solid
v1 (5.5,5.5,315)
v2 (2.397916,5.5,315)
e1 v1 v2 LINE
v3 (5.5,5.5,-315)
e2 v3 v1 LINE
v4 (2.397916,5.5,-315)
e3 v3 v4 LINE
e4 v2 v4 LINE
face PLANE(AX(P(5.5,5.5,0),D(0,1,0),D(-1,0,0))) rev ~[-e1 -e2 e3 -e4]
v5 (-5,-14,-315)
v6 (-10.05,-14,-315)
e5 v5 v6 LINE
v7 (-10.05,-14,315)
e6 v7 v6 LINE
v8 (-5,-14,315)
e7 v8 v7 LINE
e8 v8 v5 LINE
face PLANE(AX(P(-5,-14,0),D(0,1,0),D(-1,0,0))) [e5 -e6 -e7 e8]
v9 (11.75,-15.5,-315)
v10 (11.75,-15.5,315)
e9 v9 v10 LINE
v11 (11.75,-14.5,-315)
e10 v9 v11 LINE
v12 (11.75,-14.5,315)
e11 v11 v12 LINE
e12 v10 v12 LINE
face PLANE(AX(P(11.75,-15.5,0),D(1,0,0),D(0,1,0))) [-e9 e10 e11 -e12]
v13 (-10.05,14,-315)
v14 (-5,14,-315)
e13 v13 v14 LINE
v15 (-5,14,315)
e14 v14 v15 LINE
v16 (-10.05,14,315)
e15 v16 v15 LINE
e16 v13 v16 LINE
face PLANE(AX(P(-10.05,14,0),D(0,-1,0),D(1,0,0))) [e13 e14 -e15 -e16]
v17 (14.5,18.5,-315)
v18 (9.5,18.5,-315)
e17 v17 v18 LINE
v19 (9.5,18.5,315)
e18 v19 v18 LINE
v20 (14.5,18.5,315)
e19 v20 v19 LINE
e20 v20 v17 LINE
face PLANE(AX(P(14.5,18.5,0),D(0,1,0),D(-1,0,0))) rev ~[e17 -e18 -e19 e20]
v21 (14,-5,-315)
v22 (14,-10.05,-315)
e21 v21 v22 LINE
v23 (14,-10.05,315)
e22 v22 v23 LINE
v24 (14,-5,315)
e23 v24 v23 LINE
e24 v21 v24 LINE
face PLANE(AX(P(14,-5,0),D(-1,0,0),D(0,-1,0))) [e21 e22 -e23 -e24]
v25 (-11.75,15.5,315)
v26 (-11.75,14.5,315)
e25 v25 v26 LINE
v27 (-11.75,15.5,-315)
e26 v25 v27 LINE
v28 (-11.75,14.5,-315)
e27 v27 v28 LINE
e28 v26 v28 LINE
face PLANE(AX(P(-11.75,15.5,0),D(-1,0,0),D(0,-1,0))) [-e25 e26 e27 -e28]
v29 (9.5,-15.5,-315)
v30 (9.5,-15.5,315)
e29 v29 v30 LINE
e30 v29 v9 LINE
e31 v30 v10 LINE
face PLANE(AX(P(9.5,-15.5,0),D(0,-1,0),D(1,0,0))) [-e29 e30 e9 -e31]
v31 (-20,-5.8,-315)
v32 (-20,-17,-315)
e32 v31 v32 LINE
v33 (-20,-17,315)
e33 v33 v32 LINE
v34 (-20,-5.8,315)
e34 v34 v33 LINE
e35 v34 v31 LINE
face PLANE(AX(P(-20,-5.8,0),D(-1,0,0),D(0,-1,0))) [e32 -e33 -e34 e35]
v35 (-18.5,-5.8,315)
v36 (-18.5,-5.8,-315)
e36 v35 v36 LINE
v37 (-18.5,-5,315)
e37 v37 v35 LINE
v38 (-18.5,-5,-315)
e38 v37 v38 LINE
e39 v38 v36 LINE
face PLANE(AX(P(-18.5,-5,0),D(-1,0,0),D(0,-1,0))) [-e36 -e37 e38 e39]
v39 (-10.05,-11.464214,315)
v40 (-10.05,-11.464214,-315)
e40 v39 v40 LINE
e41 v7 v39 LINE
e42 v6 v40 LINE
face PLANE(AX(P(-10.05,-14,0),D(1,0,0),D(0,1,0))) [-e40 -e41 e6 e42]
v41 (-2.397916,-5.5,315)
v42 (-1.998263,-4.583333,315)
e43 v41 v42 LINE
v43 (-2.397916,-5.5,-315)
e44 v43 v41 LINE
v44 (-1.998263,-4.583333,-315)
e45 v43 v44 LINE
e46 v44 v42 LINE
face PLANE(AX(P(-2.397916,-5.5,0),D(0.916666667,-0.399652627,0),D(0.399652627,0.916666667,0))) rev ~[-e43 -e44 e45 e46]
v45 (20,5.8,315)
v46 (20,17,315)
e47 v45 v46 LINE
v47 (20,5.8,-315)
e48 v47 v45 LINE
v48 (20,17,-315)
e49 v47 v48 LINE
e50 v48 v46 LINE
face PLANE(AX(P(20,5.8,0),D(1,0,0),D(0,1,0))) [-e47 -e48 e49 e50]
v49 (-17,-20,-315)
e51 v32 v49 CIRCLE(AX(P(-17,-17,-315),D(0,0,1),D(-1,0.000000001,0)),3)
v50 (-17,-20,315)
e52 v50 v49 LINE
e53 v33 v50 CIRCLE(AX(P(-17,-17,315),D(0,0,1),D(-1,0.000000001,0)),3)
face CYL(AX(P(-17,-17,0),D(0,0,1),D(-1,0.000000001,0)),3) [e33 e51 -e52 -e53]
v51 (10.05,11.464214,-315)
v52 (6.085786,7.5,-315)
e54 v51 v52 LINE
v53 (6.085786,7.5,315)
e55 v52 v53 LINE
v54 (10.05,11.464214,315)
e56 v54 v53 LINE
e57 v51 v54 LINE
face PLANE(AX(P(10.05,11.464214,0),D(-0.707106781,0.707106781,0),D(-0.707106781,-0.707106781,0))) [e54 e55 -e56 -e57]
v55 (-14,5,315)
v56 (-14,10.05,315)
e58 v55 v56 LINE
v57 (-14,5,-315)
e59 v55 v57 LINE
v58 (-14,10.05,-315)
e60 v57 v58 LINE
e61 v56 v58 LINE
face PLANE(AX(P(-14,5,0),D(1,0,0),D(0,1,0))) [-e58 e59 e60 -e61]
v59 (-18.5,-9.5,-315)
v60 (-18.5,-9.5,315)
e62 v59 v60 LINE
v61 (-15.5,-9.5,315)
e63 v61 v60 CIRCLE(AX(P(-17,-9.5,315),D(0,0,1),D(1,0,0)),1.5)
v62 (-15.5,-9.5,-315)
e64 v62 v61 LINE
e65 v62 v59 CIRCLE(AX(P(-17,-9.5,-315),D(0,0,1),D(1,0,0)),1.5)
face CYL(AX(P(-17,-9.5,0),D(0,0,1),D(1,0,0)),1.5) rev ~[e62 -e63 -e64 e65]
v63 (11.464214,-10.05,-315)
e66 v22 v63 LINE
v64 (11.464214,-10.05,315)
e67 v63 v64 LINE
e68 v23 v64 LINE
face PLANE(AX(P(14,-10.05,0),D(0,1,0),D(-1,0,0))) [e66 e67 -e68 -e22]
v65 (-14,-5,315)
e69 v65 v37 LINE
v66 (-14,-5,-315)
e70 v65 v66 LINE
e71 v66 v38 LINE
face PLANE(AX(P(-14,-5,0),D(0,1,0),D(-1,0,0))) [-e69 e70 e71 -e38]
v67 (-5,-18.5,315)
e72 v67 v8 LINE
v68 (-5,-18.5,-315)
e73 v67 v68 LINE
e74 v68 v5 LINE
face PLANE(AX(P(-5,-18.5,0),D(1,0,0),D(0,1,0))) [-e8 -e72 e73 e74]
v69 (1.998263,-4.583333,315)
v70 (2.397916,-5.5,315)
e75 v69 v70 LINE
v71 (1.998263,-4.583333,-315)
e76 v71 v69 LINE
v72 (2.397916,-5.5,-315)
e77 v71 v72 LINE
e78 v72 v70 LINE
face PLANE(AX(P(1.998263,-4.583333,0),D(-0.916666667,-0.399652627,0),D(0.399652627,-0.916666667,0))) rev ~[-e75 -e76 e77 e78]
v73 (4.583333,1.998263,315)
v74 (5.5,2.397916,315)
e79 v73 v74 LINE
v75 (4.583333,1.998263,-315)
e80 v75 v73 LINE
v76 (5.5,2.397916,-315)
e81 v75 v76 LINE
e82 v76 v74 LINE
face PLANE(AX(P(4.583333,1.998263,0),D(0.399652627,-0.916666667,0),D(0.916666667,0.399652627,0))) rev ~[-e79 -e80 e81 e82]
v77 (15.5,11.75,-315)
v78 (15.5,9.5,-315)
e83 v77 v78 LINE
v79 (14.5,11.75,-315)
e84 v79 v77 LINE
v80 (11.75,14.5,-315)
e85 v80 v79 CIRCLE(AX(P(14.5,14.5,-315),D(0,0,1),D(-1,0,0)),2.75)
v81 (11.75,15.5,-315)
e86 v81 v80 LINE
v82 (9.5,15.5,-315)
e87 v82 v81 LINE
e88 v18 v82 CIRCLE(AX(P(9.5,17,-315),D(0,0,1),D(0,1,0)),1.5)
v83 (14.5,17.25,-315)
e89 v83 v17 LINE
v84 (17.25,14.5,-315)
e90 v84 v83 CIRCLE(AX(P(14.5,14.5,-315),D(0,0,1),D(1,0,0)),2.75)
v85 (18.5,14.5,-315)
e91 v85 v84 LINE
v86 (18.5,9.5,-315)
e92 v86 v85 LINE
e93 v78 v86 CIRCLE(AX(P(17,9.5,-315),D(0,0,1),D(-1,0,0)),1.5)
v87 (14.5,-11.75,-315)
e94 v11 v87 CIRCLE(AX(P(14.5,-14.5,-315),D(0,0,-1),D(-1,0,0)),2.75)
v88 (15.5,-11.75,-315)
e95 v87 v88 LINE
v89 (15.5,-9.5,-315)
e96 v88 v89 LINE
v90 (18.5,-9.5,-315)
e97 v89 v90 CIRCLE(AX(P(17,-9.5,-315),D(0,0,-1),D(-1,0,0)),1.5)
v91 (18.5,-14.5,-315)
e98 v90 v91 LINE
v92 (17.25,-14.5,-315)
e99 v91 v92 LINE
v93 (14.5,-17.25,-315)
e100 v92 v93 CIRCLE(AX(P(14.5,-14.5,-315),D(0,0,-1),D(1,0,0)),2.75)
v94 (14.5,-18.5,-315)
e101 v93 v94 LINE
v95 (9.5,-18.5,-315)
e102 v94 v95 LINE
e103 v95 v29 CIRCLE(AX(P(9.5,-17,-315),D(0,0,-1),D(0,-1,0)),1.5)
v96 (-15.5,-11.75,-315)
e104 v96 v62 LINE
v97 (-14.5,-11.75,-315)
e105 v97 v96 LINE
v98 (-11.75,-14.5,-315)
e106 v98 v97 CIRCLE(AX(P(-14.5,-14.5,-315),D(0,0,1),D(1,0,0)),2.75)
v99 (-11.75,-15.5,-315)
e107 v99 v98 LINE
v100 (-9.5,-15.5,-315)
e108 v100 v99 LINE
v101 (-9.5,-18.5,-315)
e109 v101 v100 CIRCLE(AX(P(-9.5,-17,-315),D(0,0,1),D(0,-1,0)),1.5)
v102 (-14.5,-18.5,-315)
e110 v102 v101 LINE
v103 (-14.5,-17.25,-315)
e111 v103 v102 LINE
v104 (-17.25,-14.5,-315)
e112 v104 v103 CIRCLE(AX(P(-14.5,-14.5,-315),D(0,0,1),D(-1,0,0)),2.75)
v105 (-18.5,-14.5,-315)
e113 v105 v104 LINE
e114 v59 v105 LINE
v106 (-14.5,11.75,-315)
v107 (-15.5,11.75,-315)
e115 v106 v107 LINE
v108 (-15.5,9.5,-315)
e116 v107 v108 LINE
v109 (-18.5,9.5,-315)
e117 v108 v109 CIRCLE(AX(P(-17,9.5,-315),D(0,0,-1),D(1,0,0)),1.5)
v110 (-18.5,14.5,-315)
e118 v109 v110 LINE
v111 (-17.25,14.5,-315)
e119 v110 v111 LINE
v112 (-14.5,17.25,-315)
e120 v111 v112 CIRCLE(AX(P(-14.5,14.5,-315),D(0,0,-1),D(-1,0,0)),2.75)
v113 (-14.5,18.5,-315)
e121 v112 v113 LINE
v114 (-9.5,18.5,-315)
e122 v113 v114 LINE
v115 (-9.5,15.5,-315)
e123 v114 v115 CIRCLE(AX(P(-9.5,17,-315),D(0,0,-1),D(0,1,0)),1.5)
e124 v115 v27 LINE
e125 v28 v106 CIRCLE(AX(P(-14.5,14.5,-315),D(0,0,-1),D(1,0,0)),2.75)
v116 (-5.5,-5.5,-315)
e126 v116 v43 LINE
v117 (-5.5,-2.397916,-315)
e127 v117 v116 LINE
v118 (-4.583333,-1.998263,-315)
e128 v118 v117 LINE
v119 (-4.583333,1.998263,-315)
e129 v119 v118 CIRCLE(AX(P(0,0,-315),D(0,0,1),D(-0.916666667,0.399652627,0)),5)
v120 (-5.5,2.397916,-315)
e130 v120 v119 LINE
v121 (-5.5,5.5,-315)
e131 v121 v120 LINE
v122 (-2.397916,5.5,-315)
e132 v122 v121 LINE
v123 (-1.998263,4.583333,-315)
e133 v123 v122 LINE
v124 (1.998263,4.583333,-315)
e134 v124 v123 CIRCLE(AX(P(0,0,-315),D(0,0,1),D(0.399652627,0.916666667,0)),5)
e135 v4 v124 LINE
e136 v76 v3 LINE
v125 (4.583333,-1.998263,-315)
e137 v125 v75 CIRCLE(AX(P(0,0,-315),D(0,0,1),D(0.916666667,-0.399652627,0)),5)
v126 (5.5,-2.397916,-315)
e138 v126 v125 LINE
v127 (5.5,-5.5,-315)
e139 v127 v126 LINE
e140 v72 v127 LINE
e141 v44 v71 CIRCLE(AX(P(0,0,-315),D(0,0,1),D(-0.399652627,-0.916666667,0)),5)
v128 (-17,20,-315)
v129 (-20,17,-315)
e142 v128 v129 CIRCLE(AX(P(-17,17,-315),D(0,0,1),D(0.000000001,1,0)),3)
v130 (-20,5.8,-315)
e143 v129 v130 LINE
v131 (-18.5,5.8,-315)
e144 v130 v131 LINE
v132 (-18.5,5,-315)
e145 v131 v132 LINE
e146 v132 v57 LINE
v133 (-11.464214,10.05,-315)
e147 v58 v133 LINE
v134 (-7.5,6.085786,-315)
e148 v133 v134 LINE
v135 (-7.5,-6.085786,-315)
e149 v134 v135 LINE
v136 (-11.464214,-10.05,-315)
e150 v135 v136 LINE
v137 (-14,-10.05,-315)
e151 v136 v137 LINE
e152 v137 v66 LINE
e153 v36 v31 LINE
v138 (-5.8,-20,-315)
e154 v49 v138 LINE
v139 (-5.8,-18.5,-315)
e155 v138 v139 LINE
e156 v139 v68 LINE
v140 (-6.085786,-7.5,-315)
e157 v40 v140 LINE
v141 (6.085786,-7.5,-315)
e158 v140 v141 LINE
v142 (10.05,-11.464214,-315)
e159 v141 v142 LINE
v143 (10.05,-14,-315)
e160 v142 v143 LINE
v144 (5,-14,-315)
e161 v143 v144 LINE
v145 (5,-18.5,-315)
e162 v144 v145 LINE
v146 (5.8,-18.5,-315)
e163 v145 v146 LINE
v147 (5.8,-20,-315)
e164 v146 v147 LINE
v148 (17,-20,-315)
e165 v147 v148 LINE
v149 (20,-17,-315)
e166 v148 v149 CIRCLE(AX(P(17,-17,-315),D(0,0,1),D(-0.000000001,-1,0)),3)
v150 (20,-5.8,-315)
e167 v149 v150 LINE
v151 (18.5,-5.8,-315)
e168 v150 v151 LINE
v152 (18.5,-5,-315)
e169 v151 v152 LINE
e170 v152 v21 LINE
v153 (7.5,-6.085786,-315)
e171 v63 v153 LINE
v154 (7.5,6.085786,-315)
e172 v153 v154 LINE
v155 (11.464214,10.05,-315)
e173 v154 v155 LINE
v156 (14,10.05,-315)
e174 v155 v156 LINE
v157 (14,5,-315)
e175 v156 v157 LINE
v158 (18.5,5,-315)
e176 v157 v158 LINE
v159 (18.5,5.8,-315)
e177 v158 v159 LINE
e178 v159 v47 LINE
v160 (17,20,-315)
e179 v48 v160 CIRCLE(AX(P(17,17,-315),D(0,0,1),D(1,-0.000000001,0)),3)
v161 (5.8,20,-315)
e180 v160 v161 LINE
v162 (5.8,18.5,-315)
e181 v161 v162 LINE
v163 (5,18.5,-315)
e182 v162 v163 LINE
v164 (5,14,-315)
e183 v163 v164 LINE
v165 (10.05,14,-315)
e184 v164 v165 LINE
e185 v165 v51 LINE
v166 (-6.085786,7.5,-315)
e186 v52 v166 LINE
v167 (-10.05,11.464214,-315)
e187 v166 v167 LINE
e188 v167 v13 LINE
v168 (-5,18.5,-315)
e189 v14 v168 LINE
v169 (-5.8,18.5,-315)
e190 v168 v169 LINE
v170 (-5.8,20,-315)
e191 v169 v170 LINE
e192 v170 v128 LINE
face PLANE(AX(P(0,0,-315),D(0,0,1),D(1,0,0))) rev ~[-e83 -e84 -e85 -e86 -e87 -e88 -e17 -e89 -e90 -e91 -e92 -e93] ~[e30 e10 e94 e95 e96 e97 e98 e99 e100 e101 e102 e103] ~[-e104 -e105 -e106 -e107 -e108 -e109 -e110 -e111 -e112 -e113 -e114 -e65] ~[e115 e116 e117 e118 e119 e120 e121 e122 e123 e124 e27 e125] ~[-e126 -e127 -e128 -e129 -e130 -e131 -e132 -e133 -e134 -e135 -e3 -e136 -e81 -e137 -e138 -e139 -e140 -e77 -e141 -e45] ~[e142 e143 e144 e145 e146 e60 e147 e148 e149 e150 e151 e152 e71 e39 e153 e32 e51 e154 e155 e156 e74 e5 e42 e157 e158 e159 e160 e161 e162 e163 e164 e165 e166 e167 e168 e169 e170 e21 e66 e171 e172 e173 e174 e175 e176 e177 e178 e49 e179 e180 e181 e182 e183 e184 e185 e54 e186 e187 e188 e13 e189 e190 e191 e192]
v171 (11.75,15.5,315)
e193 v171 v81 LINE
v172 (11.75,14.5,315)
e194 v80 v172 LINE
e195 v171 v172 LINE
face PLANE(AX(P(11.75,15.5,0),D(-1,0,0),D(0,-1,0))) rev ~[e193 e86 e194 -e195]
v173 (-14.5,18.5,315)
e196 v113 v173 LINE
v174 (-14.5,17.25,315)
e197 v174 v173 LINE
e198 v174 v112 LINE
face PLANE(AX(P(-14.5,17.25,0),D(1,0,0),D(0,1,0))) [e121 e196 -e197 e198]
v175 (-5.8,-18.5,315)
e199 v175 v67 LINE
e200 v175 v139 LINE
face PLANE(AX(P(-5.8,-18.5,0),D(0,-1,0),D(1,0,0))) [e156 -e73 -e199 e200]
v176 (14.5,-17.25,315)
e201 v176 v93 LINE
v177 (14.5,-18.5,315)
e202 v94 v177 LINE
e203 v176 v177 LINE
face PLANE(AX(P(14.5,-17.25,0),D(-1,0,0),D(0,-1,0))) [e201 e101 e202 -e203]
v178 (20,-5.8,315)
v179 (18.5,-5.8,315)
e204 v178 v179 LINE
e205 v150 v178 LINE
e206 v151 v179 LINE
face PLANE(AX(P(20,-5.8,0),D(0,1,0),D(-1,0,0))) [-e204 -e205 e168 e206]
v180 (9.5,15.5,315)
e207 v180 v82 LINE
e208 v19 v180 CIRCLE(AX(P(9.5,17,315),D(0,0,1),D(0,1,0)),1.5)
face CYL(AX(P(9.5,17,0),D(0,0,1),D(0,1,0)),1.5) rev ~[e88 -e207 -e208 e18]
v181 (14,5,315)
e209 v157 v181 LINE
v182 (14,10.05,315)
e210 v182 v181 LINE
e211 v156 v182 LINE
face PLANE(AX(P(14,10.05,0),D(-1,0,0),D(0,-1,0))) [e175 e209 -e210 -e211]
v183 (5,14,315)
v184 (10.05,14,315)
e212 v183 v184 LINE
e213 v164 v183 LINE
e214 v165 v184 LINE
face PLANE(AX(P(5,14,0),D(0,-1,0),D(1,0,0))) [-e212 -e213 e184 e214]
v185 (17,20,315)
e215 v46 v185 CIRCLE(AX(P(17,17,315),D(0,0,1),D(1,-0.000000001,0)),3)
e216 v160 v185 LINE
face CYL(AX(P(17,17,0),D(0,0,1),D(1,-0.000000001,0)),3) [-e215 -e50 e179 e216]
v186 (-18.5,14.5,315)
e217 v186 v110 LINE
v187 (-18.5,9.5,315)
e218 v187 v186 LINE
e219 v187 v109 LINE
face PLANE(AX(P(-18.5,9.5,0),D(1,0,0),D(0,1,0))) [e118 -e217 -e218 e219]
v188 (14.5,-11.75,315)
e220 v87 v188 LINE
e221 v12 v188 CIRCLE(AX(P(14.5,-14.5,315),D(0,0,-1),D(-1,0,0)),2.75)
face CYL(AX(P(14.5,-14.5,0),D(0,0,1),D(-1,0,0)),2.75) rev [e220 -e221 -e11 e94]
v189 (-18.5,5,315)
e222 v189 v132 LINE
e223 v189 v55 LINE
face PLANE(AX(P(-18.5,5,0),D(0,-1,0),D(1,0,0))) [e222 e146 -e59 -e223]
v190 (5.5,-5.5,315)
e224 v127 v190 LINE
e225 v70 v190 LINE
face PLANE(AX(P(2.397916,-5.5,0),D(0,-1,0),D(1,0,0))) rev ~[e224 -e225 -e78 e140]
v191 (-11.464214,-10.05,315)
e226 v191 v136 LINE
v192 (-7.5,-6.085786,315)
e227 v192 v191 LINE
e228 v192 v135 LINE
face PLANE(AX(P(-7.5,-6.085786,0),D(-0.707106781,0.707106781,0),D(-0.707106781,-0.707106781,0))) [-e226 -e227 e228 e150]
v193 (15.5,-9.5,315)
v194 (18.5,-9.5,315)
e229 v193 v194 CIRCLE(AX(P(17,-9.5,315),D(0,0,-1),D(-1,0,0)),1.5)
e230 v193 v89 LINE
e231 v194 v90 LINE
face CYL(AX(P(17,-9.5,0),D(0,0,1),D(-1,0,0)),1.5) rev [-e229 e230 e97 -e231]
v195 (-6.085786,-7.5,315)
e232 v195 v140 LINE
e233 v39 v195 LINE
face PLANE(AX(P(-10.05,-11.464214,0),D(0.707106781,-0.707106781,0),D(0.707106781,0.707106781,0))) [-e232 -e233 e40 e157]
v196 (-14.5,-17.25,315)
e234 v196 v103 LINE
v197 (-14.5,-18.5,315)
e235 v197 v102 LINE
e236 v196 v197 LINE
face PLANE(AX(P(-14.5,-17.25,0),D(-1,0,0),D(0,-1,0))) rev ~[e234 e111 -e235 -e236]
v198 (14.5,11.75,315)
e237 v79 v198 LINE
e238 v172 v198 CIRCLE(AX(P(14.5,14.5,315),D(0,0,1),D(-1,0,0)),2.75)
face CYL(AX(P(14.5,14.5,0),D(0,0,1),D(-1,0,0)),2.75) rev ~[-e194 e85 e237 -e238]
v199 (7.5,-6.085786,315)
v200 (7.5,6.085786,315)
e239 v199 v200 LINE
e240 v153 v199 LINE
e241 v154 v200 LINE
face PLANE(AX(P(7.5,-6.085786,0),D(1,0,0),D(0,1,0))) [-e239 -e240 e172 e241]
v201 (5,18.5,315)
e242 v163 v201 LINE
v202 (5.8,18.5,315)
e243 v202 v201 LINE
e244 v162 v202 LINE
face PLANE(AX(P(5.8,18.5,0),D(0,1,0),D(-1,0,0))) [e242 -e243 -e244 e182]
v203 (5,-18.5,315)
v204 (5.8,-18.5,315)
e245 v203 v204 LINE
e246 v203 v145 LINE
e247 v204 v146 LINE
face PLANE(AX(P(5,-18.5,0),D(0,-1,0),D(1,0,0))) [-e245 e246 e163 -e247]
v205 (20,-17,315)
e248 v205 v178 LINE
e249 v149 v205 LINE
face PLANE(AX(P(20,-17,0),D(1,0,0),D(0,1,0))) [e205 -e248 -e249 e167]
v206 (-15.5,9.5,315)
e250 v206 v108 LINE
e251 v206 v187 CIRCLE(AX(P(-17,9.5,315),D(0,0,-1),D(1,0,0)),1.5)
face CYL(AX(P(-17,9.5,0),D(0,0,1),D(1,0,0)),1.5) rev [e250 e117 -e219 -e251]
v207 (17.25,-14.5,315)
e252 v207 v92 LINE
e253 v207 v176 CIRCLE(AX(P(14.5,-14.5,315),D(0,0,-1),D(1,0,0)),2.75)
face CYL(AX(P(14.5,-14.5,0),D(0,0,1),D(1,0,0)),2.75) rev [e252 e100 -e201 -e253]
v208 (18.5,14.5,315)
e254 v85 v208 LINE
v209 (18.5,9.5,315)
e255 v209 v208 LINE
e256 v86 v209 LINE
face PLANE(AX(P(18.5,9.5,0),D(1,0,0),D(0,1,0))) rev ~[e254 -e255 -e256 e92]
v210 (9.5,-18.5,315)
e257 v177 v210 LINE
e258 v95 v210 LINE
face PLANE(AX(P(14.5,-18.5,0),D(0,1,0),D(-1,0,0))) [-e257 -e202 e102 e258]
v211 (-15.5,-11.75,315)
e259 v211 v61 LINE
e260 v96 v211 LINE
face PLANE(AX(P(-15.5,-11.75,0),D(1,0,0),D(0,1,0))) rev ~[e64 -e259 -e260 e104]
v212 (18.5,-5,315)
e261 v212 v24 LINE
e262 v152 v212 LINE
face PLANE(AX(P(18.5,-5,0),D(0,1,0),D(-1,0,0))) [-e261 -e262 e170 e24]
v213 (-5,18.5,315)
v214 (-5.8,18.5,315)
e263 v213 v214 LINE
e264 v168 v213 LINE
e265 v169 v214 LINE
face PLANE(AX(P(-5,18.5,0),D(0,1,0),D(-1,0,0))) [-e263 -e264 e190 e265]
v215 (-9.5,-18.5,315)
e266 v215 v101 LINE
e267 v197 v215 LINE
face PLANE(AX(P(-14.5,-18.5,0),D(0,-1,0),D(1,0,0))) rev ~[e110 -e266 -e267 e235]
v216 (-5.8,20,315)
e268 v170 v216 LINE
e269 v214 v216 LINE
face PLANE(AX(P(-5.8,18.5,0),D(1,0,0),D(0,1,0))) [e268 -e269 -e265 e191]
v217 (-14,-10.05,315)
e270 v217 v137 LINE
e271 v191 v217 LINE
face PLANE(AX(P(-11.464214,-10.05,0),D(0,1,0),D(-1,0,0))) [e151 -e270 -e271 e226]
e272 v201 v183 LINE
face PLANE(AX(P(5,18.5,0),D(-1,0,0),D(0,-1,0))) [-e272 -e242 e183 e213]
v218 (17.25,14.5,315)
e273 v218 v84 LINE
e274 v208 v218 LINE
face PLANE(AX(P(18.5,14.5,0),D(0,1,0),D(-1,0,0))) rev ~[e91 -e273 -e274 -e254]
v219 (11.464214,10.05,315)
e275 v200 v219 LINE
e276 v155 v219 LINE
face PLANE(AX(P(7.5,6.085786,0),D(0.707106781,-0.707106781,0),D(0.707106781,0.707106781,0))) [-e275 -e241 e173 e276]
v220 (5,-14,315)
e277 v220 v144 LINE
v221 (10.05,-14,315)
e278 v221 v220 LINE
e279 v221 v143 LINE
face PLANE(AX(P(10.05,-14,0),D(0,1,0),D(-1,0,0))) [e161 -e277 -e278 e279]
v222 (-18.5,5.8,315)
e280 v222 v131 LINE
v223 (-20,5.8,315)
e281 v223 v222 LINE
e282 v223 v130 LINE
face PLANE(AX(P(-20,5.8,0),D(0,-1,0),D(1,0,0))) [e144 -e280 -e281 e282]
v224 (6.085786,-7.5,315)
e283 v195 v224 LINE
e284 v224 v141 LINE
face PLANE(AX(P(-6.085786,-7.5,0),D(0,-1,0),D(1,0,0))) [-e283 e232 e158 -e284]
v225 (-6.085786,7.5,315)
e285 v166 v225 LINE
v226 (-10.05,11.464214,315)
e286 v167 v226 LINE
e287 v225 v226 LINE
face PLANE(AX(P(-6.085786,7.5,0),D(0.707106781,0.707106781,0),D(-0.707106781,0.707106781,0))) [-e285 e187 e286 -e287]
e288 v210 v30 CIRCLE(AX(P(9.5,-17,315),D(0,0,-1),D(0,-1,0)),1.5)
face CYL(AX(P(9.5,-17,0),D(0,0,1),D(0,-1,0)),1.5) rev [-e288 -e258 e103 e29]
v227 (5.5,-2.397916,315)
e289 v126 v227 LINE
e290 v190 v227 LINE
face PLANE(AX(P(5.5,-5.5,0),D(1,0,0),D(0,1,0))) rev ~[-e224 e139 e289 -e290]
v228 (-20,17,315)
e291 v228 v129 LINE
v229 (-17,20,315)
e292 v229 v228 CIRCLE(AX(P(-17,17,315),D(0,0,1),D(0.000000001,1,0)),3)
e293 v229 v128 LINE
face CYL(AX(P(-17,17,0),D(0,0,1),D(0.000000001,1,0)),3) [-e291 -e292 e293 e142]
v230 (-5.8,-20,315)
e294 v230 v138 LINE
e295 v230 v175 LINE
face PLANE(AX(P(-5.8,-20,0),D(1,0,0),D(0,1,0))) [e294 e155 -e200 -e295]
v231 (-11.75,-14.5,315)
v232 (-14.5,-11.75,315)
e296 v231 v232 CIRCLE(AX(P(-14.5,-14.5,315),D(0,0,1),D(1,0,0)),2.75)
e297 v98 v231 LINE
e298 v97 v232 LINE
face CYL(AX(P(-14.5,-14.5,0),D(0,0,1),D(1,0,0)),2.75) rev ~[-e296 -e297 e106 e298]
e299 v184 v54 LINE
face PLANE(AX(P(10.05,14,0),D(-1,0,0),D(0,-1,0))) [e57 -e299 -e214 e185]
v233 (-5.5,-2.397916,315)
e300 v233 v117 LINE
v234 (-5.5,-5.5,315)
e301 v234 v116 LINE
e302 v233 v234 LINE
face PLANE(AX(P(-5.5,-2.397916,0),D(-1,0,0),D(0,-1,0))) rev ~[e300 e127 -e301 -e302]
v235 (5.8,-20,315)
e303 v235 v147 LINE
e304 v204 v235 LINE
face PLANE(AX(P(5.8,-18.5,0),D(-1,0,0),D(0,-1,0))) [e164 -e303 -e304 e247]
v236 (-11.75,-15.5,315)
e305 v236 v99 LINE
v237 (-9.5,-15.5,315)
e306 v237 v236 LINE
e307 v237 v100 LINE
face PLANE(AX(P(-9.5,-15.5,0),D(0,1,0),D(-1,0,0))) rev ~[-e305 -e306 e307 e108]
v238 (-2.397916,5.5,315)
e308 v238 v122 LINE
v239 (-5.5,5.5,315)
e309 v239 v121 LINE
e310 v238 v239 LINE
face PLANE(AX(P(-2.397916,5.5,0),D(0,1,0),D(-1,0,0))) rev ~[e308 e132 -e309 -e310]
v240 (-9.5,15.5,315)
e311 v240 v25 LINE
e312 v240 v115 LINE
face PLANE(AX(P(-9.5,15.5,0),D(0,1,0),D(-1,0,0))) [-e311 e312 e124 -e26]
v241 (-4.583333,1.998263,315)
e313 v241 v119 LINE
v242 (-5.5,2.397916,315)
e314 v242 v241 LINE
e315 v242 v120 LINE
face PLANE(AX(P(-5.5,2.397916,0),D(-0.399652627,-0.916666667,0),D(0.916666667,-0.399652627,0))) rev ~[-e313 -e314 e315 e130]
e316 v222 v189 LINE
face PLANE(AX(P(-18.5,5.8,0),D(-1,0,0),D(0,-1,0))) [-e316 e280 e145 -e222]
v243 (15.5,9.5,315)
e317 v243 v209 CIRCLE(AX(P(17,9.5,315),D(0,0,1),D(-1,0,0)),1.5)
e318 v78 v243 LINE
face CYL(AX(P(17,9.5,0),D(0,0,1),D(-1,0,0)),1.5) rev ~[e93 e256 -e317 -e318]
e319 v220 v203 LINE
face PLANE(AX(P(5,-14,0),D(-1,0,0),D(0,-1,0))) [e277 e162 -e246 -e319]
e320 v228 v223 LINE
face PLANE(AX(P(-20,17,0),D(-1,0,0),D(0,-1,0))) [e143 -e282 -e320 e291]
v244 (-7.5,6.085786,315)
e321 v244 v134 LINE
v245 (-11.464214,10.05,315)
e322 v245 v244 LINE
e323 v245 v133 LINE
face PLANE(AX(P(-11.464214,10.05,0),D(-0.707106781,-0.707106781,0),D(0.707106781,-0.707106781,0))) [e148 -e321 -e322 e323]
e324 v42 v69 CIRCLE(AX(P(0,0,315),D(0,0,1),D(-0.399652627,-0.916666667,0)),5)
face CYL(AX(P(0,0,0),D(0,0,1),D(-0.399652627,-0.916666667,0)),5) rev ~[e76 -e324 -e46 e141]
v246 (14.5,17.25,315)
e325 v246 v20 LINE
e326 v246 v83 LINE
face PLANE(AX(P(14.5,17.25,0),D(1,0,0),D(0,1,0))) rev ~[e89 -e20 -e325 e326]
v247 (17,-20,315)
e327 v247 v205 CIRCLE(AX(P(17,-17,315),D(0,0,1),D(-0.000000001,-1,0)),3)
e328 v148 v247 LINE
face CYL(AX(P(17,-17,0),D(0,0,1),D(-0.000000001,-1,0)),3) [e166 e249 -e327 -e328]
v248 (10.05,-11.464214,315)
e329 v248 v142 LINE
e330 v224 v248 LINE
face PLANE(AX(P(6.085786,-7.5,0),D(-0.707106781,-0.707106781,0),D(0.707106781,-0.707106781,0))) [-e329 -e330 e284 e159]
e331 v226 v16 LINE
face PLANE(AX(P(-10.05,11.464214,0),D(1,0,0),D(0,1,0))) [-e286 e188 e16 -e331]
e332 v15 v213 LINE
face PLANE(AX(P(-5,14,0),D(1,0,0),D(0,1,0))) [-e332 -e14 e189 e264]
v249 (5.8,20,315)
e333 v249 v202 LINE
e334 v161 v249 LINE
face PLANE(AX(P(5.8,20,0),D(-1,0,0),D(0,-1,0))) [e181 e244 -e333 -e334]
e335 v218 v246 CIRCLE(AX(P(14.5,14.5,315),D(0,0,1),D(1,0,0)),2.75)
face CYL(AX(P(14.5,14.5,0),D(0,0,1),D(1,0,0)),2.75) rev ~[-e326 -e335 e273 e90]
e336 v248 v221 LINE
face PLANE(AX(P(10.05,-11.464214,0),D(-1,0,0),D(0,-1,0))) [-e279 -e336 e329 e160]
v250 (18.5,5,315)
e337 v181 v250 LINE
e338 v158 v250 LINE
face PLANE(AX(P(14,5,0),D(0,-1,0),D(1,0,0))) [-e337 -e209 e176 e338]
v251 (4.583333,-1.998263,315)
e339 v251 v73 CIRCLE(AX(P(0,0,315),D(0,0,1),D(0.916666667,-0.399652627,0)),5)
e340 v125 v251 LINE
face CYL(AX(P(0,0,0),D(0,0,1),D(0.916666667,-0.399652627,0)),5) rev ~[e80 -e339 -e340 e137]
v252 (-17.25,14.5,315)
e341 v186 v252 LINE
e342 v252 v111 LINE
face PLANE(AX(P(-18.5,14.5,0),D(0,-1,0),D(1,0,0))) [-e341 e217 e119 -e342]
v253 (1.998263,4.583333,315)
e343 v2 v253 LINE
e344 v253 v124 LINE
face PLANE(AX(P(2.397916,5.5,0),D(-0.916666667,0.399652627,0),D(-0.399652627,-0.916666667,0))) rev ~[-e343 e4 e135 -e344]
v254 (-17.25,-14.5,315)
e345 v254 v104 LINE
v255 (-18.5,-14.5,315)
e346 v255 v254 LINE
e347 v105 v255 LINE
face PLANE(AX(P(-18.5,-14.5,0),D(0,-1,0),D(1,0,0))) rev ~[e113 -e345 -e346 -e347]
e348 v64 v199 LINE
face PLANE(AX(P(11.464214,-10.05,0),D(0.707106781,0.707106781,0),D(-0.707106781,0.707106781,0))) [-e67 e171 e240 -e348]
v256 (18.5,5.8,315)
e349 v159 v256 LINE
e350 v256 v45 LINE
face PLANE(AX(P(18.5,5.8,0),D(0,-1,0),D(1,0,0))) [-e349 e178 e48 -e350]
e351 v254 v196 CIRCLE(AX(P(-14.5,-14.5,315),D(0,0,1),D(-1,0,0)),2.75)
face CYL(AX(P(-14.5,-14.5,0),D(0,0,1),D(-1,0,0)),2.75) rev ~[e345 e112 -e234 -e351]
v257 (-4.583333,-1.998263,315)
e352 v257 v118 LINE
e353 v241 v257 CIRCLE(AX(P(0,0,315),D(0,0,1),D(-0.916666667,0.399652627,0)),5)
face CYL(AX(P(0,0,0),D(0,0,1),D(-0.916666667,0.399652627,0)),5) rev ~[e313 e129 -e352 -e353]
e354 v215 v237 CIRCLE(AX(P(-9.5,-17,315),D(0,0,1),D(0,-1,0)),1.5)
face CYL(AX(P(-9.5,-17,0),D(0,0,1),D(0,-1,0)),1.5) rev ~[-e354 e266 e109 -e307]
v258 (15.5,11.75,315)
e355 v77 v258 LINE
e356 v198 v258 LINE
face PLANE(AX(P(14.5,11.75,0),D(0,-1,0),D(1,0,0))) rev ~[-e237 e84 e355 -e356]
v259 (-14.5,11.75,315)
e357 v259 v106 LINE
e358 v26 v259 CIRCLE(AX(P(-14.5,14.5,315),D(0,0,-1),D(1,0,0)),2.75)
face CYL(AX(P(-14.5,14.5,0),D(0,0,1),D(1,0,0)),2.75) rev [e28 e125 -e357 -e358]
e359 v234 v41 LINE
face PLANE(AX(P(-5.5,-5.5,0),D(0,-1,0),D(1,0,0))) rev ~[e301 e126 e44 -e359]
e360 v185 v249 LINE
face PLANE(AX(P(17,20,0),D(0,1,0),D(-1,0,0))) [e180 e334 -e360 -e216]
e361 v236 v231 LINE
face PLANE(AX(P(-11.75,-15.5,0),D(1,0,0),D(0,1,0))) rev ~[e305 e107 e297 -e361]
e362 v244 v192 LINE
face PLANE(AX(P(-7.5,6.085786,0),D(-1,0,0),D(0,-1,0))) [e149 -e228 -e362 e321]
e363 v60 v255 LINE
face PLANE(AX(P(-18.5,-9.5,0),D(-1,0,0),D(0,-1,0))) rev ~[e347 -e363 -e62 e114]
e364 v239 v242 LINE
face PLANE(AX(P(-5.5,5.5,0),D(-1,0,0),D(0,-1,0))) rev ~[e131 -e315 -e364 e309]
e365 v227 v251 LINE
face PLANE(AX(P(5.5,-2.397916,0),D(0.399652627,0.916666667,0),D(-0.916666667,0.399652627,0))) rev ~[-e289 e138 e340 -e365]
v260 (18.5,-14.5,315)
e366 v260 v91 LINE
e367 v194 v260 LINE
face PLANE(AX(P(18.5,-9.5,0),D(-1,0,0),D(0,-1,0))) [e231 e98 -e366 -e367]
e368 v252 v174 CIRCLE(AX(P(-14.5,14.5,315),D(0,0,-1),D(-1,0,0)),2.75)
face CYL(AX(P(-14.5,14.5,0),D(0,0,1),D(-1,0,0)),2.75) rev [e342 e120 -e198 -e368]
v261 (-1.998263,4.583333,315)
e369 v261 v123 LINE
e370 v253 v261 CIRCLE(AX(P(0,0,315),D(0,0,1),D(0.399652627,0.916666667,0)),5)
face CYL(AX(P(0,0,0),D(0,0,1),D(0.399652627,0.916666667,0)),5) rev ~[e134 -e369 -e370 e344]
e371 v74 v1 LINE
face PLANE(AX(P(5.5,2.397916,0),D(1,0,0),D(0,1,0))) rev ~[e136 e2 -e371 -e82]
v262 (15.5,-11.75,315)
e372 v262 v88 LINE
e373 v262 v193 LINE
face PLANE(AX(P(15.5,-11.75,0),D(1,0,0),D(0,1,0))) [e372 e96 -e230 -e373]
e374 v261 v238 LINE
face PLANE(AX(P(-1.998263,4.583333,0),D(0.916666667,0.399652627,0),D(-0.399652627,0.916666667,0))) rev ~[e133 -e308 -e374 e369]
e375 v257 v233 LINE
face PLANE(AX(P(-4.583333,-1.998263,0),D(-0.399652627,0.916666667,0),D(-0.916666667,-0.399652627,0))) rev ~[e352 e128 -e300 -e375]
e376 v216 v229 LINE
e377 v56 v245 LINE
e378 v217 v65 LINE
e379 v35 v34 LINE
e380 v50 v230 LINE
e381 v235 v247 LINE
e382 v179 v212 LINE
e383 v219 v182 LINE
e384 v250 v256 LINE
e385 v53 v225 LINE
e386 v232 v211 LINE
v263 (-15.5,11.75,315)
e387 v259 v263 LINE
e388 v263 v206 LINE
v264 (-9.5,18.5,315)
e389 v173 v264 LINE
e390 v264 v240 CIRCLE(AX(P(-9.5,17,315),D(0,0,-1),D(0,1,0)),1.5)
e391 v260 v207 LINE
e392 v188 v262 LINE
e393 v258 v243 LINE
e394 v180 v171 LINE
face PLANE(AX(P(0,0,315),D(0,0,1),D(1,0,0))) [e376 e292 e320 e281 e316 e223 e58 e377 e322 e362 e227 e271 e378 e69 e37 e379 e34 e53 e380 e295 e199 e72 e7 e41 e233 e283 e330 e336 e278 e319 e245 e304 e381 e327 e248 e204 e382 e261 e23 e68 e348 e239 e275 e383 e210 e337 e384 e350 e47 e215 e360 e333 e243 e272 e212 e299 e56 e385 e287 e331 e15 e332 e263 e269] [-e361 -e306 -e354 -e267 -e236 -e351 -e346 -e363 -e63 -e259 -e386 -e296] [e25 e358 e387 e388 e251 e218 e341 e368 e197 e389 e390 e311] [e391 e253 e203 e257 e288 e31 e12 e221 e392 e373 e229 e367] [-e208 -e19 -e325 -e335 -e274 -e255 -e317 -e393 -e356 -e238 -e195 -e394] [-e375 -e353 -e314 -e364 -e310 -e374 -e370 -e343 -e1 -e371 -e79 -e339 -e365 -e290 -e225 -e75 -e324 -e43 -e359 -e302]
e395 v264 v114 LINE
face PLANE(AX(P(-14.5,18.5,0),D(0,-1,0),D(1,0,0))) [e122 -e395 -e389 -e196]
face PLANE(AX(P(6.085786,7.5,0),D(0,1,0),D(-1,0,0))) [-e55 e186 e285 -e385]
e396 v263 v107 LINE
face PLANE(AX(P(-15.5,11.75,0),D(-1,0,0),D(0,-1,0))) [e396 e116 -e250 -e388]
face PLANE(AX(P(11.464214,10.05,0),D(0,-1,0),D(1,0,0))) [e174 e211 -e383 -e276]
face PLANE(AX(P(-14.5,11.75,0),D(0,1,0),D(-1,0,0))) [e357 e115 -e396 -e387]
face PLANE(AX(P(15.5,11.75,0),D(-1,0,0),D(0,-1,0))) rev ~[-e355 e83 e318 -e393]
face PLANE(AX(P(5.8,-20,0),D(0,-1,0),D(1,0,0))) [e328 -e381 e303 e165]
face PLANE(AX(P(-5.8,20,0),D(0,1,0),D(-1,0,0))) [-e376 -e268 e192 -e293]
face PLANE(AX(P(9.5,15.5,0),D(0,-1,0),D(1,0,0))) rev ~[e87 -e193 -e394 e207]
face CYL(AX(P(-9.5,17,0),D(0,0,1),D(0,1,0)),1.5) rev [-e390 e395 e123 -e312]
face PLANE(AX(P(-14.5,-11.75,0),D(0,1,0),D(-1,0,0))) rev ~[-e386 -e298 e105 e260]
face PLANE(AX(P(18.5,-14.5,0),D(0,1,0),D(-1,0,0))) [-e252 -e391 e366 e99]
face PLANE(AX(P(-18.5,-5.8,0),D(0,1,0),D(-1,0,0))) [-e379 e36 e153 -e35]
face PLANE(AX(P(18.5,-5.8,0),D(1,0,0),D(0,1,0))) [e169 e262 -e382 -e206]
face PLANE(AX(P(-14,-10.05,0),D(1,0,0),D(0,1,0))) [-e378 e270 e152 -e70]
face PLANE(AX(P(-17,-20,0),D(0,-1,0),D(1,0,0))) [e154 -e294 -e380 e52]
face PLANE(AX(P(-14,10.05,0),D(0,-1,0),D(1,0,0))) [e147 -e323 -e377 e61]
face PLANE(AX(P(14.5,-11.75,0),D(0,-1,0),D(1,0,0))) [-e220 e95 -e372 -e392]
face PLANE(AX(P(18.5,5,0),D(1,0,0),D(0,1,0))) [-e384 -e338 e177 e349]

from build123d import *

# Parameters (mm, degrees)
EXTRUDE1_DEPTH = 315


with BuildPart() as part:
    # Sketch1 → Extrude1 (new body, symmetric)
    with BuildSketch(Plane.XY):
        with BuildLine():
            Line((5.8, -20), (17, -20))
            ThreePointArc((17, -20), (19.121320344, -19.121320344), (20, -17))
            Line((20, -17), (20, -5.8))
            Line((20, -5.8), (18.5, -5.8))
            Line((18.5, -5.8), (18.5, -5))
            Line((18.5, -5), (14, -5))
            Line((14, -5), (14, -10.05))
            Line((14, -10.05), (11.464213562, -10.05))
            Line((11.464213562, -10.05), (7.5, -6.085786438))
            Line((7.5, -6.085786438), (7.5, 6.085786438))
            Line((7.5, 6.085786438), (11.464213562, 10.05))
            Line((11.464213562, 10.05), (14, 10.05))
            Line((14, 10.05), (14, 5))
            Line((14, 5), (18.5, 5))
            Line((18.5, 5), (18.5, 5.8))
            Line((18.5, 5.8), (20, 5.8))
            Line((20, 5.8), (20, 17))
            ThreePointArc((20, 17), (19.121320344, 19.121320344), (17, 20))
            Line((17, 20), (5.8, 20))
            Line((5.8, 20), (5.8, 18.5))
            Line((5.8, 18.5), (5, 18.5))
            Line((5, 18.5), (5, 14))
            Line((5, 14), (10.05, 14))
            Line((10.05, 14), (10.05, 11.464213562))
            Line((10.05, 11.464213562), (6.085786438, 7.5))
            Line((6.085786438, 7.5), (-6.085786438, 7.5))
            Line((-6.085786438, 7.5), (-10.05, 11.464213562))
            Line((-10.05, 11.464213562), (-10.05, 14))
            Line((-10.05, 14), (-5, 14))
            Line((-5, 14), (-5, 18.5))
            Line((-5, 18.5), (-5.8, 18.5))
            Line((-5.8, 18.5), (-5.8, 20))
            Line((-5.8, 20), (-17, 20))
            ThreePointArc((-17, 20), (-19.121320344, 19.121320344), (-20, 17))
            Line((-20, 17), (-20, 5.8))
            Line((-20, 5.8), (-18.5, 5.8))
            Line((-18.5, 5.8), (-18.5, 5))
            Line((-18.5, 5), (-14, 5))
            Line((-14, 5), (-14, 10.05))
            Line((-14, 10.05), (-11.464213562, 10.05))
            Line((-11.464213562, 10.05), (-7.5, 6.085786438))
            Line((-7.5, 6.085786438), (-7.5, -6.085786438))
            Line((-7.5, -6.085786438), (-11.464213562, -10.05))
            Line((-11.464213562, -10.05), (-14, -10.05))
            Line((-14, -10.05), (-14, -5))
            Line((-14, -5), (-18.5, -5))
            Line((-18.5, -5), (-18.5, -5.8))
            Line((-18.5, -5.8), (-20, -5.8))
            Line((-20, -5.8), (-20, -17))
            ThreePointArc((-20, -17), (-19.121320344, -19.121320344), (-17, -20))
            Line((-17, -20), (-5.8, -20))
            Line((-5.8, -20), (-5.8, -18.5))
            Line((-5.8, -18.5), (-5, -18.5))
            Line((-5, -18.5), (-5, -14))
            Line((-5, -14), (-10.05, -14))
            Line((-10.05, -14), (-10.05, -11.464213562))
            Line((-10.05, -11.464213562), (-6.085786438, -7.5))
            Line((-6.085786438, -7.5), (6.085786438, -7.5))
            Line((6.085786438, -7.5), (10.05, -11.464213562))
            Line((10.05, -11.464213562), (10.05, -14))
            Line((10.05, -14), (5, -14))
            Line((5, -14), (5, -18.5))
            Line((5, -18.5), (5.8, -18.5))
            Line((5.8, -18.5), (5.8, -20))
        make_face()
        with BuildLine():
            Line((14.5, -18.5), (9.5, -18.5))
            ThreePointArc((9.5, -18.5), (8, -17), (9.5, -15.5))
            Line((9.5, -15.5), (11.75, -15.5))
            Line((11.75, -15.5), (11.75, -14.5))
            ThreePointArc((11.75, -14.5), (12.555456352, -12.555456352), (14.5, -11.75))
            Line((14.5, -11.75), (15.5, -11.75))
            Line((15.5, -11.75), (15.5, -9.5))
            ThreePointArc((15.5, -9.5), (17, -8), (18.5, -9.5))
            Line((18.5, -9.5), (18.5, -14.5))
            Line((18.5, -14.5), (17.25, -14.5))
            ThreePointArc((17.25, -14.5), (16.444543648, -16.444543648), (14.5, -17.25))
            Line((14.5, -17.25), (14.5, -18.5))
        make_face(mode=Mode.SUBTRACT)
        with BuildLine():
            Line((18.5, 14.5), (17.25, 14.5))
            ThreePointArc((17.25, 14.5), (16.444543648, 16.444543648), (14.5, 17.25))
            Line((14.5, 17.25), (14.5, 18.5))
            Line((14.5, 18.5), (9.5, 18.5))
            ThreePointArc((9.5, 18.5), (8, 17), (9.5, 15.5))
            Line((9.5, 15.5), (11.75, 15.5))
            Line((11.75, 15.5), (11.75, 14.5))
            ThreePointArc((11.75, 14.5), (12.555456352, 12.555456352), (14.5, 11.75))
            Line((14.5, 11.75), (15.5, 11.75))
            Line((15.5, 11.75), (15.5, 9.5))
            ThreePointArc((15.5, 9.5), (17, 8), (18.5, 9.5))
            Line((18.5, 9.5), (18.5, 14.5))
        make_face(mode=Mode.SUBTRACT)
        with BuildLine():
            Line((5.5, 5.5), (2.397915762, 5.5))
            Line((2.397915762, 5.5), (1.998263135, 4.583333333))
            ThreePointArc((1.998263135, 4.583333333), (0, 5), (-1.998263135, 4.583333333))
            Line((-1.998263135, 4.583333333), (-2.397915762, 5.5))
            Line((-2.397915762, 5.5), (-5.5, 5.5))
            Line((-5.5, 5.5), (-5.5, 2.397915762))
            Line((-5.5, 2.397915762), (-4.583333333, 1.998263135))
            ThreePointArc((-4.583333333, 1.998263135), (-5, 0), (-4.583333333, -1.998263135))
            Line((-4.583333333, -1.998263135), (-5.5, -2.397915762))
            Line((-5.5, -2.397915762), (-5.5, -5.5))
            Line((-5.5, -5.5), (-2.397915762, -5.5))
            Line((-2.397915762, -5.5), (-1.998263135, -4.583333333))
            ThreePointArc((-1.998263135, -4.583333333), (0, -5), (1.998263135, -4.583333333))
            Line((1.998263135, -4.583333333), (2.397915762, -5.5))
            Line((2.397915762, -5.5), (5.5, -5.5))
            Line((5.5, -5.5), (5.5, -2.397915762))
            Line((5.5, -2.397915762), (4.583333333, -1.998263135))
            ThreePointArc((4.583333333, -1.998263135), (5, 0), (4.583333333, 1.998263135))
            Line((4.583333333, 1.998263135), (5.5, 2.397915762))
            Line((5.5, 2.397915762), (5.5, 5.5))
        make_face(mode=Mode.SUBTRACT)
        with BuildLine():
            Line((-18.5, -14.5), (-17.25, -14.5))
            ThreePointArc((-17.25, -14.5), (-16.444543648, -16.444543648), (-14.5, -17.25))
            Line((-14.5, -17.25), (-14.5, -18.5))
            Line((-14.5, -18.5), (-9.5, -18.5))
            ThreePointArc((-9.5, -18.5), (-8, -17), (-9.5, -15.5))
            Line((-9.5, -15.5), (-11.75, -15.5))
            Line((-11.75, -15.5), (-11.75, -14.5))
            ThreePointArc((-11.75, -14.5), (-12.555456352, -12.555456352), (-14.5, -11.75))
            Line((-14.5, -11.75), (-15.5, -11.75))
            Line((-15.5, -11.75), (-15.5, -9.5))
            ThreePointArc((-15.5, -9.5), (-17, -8), (-18.5, -9.5))
            Line((-18.5, -9.5), (-18.5, -14.5))
        make_face(mode=Mode.SUBTRACT)
        with BuildLine():
            Line((-14.5, 18.5), (-9.5, 18.5))
            ThreePointArc((-9.5, 18.5), (-8, 17), (-9.5, 15.5))
            Line((-9.5, 15.5), (-11.75, 15.5))
            Line((-11.75, 15.5), (-11.75, 14.5))
            ThreePointArc((-11.75, 14.5), (-12.555456352, 12.555456352), (-14.5, 11.75))
            Line((-14.5, 11.75), (-15.5, 11.75))
            Line((-15.5, 11.75), (-15.5, 9.5))
            ThreePointArc((-15.5, 9.5), (-17, 8), (-18.5, 9.5))
            Line((-18.5, 9.5), (-18.5, 14.5))
            Line((-18.5, 14.5), (-17.25, 14.5))
            ThreePointArc((-17.25, 14.5), (-16.444543648, 16.444543648), (-14.5, 17.25))
            Line((-14.5, 17.25), (-14.5, 18.5))
        make_face(mode=Mode.SUBTRACT)
    extrude(amount=EXTRUDE1_DEPTH, both=True)


solid = part.part
